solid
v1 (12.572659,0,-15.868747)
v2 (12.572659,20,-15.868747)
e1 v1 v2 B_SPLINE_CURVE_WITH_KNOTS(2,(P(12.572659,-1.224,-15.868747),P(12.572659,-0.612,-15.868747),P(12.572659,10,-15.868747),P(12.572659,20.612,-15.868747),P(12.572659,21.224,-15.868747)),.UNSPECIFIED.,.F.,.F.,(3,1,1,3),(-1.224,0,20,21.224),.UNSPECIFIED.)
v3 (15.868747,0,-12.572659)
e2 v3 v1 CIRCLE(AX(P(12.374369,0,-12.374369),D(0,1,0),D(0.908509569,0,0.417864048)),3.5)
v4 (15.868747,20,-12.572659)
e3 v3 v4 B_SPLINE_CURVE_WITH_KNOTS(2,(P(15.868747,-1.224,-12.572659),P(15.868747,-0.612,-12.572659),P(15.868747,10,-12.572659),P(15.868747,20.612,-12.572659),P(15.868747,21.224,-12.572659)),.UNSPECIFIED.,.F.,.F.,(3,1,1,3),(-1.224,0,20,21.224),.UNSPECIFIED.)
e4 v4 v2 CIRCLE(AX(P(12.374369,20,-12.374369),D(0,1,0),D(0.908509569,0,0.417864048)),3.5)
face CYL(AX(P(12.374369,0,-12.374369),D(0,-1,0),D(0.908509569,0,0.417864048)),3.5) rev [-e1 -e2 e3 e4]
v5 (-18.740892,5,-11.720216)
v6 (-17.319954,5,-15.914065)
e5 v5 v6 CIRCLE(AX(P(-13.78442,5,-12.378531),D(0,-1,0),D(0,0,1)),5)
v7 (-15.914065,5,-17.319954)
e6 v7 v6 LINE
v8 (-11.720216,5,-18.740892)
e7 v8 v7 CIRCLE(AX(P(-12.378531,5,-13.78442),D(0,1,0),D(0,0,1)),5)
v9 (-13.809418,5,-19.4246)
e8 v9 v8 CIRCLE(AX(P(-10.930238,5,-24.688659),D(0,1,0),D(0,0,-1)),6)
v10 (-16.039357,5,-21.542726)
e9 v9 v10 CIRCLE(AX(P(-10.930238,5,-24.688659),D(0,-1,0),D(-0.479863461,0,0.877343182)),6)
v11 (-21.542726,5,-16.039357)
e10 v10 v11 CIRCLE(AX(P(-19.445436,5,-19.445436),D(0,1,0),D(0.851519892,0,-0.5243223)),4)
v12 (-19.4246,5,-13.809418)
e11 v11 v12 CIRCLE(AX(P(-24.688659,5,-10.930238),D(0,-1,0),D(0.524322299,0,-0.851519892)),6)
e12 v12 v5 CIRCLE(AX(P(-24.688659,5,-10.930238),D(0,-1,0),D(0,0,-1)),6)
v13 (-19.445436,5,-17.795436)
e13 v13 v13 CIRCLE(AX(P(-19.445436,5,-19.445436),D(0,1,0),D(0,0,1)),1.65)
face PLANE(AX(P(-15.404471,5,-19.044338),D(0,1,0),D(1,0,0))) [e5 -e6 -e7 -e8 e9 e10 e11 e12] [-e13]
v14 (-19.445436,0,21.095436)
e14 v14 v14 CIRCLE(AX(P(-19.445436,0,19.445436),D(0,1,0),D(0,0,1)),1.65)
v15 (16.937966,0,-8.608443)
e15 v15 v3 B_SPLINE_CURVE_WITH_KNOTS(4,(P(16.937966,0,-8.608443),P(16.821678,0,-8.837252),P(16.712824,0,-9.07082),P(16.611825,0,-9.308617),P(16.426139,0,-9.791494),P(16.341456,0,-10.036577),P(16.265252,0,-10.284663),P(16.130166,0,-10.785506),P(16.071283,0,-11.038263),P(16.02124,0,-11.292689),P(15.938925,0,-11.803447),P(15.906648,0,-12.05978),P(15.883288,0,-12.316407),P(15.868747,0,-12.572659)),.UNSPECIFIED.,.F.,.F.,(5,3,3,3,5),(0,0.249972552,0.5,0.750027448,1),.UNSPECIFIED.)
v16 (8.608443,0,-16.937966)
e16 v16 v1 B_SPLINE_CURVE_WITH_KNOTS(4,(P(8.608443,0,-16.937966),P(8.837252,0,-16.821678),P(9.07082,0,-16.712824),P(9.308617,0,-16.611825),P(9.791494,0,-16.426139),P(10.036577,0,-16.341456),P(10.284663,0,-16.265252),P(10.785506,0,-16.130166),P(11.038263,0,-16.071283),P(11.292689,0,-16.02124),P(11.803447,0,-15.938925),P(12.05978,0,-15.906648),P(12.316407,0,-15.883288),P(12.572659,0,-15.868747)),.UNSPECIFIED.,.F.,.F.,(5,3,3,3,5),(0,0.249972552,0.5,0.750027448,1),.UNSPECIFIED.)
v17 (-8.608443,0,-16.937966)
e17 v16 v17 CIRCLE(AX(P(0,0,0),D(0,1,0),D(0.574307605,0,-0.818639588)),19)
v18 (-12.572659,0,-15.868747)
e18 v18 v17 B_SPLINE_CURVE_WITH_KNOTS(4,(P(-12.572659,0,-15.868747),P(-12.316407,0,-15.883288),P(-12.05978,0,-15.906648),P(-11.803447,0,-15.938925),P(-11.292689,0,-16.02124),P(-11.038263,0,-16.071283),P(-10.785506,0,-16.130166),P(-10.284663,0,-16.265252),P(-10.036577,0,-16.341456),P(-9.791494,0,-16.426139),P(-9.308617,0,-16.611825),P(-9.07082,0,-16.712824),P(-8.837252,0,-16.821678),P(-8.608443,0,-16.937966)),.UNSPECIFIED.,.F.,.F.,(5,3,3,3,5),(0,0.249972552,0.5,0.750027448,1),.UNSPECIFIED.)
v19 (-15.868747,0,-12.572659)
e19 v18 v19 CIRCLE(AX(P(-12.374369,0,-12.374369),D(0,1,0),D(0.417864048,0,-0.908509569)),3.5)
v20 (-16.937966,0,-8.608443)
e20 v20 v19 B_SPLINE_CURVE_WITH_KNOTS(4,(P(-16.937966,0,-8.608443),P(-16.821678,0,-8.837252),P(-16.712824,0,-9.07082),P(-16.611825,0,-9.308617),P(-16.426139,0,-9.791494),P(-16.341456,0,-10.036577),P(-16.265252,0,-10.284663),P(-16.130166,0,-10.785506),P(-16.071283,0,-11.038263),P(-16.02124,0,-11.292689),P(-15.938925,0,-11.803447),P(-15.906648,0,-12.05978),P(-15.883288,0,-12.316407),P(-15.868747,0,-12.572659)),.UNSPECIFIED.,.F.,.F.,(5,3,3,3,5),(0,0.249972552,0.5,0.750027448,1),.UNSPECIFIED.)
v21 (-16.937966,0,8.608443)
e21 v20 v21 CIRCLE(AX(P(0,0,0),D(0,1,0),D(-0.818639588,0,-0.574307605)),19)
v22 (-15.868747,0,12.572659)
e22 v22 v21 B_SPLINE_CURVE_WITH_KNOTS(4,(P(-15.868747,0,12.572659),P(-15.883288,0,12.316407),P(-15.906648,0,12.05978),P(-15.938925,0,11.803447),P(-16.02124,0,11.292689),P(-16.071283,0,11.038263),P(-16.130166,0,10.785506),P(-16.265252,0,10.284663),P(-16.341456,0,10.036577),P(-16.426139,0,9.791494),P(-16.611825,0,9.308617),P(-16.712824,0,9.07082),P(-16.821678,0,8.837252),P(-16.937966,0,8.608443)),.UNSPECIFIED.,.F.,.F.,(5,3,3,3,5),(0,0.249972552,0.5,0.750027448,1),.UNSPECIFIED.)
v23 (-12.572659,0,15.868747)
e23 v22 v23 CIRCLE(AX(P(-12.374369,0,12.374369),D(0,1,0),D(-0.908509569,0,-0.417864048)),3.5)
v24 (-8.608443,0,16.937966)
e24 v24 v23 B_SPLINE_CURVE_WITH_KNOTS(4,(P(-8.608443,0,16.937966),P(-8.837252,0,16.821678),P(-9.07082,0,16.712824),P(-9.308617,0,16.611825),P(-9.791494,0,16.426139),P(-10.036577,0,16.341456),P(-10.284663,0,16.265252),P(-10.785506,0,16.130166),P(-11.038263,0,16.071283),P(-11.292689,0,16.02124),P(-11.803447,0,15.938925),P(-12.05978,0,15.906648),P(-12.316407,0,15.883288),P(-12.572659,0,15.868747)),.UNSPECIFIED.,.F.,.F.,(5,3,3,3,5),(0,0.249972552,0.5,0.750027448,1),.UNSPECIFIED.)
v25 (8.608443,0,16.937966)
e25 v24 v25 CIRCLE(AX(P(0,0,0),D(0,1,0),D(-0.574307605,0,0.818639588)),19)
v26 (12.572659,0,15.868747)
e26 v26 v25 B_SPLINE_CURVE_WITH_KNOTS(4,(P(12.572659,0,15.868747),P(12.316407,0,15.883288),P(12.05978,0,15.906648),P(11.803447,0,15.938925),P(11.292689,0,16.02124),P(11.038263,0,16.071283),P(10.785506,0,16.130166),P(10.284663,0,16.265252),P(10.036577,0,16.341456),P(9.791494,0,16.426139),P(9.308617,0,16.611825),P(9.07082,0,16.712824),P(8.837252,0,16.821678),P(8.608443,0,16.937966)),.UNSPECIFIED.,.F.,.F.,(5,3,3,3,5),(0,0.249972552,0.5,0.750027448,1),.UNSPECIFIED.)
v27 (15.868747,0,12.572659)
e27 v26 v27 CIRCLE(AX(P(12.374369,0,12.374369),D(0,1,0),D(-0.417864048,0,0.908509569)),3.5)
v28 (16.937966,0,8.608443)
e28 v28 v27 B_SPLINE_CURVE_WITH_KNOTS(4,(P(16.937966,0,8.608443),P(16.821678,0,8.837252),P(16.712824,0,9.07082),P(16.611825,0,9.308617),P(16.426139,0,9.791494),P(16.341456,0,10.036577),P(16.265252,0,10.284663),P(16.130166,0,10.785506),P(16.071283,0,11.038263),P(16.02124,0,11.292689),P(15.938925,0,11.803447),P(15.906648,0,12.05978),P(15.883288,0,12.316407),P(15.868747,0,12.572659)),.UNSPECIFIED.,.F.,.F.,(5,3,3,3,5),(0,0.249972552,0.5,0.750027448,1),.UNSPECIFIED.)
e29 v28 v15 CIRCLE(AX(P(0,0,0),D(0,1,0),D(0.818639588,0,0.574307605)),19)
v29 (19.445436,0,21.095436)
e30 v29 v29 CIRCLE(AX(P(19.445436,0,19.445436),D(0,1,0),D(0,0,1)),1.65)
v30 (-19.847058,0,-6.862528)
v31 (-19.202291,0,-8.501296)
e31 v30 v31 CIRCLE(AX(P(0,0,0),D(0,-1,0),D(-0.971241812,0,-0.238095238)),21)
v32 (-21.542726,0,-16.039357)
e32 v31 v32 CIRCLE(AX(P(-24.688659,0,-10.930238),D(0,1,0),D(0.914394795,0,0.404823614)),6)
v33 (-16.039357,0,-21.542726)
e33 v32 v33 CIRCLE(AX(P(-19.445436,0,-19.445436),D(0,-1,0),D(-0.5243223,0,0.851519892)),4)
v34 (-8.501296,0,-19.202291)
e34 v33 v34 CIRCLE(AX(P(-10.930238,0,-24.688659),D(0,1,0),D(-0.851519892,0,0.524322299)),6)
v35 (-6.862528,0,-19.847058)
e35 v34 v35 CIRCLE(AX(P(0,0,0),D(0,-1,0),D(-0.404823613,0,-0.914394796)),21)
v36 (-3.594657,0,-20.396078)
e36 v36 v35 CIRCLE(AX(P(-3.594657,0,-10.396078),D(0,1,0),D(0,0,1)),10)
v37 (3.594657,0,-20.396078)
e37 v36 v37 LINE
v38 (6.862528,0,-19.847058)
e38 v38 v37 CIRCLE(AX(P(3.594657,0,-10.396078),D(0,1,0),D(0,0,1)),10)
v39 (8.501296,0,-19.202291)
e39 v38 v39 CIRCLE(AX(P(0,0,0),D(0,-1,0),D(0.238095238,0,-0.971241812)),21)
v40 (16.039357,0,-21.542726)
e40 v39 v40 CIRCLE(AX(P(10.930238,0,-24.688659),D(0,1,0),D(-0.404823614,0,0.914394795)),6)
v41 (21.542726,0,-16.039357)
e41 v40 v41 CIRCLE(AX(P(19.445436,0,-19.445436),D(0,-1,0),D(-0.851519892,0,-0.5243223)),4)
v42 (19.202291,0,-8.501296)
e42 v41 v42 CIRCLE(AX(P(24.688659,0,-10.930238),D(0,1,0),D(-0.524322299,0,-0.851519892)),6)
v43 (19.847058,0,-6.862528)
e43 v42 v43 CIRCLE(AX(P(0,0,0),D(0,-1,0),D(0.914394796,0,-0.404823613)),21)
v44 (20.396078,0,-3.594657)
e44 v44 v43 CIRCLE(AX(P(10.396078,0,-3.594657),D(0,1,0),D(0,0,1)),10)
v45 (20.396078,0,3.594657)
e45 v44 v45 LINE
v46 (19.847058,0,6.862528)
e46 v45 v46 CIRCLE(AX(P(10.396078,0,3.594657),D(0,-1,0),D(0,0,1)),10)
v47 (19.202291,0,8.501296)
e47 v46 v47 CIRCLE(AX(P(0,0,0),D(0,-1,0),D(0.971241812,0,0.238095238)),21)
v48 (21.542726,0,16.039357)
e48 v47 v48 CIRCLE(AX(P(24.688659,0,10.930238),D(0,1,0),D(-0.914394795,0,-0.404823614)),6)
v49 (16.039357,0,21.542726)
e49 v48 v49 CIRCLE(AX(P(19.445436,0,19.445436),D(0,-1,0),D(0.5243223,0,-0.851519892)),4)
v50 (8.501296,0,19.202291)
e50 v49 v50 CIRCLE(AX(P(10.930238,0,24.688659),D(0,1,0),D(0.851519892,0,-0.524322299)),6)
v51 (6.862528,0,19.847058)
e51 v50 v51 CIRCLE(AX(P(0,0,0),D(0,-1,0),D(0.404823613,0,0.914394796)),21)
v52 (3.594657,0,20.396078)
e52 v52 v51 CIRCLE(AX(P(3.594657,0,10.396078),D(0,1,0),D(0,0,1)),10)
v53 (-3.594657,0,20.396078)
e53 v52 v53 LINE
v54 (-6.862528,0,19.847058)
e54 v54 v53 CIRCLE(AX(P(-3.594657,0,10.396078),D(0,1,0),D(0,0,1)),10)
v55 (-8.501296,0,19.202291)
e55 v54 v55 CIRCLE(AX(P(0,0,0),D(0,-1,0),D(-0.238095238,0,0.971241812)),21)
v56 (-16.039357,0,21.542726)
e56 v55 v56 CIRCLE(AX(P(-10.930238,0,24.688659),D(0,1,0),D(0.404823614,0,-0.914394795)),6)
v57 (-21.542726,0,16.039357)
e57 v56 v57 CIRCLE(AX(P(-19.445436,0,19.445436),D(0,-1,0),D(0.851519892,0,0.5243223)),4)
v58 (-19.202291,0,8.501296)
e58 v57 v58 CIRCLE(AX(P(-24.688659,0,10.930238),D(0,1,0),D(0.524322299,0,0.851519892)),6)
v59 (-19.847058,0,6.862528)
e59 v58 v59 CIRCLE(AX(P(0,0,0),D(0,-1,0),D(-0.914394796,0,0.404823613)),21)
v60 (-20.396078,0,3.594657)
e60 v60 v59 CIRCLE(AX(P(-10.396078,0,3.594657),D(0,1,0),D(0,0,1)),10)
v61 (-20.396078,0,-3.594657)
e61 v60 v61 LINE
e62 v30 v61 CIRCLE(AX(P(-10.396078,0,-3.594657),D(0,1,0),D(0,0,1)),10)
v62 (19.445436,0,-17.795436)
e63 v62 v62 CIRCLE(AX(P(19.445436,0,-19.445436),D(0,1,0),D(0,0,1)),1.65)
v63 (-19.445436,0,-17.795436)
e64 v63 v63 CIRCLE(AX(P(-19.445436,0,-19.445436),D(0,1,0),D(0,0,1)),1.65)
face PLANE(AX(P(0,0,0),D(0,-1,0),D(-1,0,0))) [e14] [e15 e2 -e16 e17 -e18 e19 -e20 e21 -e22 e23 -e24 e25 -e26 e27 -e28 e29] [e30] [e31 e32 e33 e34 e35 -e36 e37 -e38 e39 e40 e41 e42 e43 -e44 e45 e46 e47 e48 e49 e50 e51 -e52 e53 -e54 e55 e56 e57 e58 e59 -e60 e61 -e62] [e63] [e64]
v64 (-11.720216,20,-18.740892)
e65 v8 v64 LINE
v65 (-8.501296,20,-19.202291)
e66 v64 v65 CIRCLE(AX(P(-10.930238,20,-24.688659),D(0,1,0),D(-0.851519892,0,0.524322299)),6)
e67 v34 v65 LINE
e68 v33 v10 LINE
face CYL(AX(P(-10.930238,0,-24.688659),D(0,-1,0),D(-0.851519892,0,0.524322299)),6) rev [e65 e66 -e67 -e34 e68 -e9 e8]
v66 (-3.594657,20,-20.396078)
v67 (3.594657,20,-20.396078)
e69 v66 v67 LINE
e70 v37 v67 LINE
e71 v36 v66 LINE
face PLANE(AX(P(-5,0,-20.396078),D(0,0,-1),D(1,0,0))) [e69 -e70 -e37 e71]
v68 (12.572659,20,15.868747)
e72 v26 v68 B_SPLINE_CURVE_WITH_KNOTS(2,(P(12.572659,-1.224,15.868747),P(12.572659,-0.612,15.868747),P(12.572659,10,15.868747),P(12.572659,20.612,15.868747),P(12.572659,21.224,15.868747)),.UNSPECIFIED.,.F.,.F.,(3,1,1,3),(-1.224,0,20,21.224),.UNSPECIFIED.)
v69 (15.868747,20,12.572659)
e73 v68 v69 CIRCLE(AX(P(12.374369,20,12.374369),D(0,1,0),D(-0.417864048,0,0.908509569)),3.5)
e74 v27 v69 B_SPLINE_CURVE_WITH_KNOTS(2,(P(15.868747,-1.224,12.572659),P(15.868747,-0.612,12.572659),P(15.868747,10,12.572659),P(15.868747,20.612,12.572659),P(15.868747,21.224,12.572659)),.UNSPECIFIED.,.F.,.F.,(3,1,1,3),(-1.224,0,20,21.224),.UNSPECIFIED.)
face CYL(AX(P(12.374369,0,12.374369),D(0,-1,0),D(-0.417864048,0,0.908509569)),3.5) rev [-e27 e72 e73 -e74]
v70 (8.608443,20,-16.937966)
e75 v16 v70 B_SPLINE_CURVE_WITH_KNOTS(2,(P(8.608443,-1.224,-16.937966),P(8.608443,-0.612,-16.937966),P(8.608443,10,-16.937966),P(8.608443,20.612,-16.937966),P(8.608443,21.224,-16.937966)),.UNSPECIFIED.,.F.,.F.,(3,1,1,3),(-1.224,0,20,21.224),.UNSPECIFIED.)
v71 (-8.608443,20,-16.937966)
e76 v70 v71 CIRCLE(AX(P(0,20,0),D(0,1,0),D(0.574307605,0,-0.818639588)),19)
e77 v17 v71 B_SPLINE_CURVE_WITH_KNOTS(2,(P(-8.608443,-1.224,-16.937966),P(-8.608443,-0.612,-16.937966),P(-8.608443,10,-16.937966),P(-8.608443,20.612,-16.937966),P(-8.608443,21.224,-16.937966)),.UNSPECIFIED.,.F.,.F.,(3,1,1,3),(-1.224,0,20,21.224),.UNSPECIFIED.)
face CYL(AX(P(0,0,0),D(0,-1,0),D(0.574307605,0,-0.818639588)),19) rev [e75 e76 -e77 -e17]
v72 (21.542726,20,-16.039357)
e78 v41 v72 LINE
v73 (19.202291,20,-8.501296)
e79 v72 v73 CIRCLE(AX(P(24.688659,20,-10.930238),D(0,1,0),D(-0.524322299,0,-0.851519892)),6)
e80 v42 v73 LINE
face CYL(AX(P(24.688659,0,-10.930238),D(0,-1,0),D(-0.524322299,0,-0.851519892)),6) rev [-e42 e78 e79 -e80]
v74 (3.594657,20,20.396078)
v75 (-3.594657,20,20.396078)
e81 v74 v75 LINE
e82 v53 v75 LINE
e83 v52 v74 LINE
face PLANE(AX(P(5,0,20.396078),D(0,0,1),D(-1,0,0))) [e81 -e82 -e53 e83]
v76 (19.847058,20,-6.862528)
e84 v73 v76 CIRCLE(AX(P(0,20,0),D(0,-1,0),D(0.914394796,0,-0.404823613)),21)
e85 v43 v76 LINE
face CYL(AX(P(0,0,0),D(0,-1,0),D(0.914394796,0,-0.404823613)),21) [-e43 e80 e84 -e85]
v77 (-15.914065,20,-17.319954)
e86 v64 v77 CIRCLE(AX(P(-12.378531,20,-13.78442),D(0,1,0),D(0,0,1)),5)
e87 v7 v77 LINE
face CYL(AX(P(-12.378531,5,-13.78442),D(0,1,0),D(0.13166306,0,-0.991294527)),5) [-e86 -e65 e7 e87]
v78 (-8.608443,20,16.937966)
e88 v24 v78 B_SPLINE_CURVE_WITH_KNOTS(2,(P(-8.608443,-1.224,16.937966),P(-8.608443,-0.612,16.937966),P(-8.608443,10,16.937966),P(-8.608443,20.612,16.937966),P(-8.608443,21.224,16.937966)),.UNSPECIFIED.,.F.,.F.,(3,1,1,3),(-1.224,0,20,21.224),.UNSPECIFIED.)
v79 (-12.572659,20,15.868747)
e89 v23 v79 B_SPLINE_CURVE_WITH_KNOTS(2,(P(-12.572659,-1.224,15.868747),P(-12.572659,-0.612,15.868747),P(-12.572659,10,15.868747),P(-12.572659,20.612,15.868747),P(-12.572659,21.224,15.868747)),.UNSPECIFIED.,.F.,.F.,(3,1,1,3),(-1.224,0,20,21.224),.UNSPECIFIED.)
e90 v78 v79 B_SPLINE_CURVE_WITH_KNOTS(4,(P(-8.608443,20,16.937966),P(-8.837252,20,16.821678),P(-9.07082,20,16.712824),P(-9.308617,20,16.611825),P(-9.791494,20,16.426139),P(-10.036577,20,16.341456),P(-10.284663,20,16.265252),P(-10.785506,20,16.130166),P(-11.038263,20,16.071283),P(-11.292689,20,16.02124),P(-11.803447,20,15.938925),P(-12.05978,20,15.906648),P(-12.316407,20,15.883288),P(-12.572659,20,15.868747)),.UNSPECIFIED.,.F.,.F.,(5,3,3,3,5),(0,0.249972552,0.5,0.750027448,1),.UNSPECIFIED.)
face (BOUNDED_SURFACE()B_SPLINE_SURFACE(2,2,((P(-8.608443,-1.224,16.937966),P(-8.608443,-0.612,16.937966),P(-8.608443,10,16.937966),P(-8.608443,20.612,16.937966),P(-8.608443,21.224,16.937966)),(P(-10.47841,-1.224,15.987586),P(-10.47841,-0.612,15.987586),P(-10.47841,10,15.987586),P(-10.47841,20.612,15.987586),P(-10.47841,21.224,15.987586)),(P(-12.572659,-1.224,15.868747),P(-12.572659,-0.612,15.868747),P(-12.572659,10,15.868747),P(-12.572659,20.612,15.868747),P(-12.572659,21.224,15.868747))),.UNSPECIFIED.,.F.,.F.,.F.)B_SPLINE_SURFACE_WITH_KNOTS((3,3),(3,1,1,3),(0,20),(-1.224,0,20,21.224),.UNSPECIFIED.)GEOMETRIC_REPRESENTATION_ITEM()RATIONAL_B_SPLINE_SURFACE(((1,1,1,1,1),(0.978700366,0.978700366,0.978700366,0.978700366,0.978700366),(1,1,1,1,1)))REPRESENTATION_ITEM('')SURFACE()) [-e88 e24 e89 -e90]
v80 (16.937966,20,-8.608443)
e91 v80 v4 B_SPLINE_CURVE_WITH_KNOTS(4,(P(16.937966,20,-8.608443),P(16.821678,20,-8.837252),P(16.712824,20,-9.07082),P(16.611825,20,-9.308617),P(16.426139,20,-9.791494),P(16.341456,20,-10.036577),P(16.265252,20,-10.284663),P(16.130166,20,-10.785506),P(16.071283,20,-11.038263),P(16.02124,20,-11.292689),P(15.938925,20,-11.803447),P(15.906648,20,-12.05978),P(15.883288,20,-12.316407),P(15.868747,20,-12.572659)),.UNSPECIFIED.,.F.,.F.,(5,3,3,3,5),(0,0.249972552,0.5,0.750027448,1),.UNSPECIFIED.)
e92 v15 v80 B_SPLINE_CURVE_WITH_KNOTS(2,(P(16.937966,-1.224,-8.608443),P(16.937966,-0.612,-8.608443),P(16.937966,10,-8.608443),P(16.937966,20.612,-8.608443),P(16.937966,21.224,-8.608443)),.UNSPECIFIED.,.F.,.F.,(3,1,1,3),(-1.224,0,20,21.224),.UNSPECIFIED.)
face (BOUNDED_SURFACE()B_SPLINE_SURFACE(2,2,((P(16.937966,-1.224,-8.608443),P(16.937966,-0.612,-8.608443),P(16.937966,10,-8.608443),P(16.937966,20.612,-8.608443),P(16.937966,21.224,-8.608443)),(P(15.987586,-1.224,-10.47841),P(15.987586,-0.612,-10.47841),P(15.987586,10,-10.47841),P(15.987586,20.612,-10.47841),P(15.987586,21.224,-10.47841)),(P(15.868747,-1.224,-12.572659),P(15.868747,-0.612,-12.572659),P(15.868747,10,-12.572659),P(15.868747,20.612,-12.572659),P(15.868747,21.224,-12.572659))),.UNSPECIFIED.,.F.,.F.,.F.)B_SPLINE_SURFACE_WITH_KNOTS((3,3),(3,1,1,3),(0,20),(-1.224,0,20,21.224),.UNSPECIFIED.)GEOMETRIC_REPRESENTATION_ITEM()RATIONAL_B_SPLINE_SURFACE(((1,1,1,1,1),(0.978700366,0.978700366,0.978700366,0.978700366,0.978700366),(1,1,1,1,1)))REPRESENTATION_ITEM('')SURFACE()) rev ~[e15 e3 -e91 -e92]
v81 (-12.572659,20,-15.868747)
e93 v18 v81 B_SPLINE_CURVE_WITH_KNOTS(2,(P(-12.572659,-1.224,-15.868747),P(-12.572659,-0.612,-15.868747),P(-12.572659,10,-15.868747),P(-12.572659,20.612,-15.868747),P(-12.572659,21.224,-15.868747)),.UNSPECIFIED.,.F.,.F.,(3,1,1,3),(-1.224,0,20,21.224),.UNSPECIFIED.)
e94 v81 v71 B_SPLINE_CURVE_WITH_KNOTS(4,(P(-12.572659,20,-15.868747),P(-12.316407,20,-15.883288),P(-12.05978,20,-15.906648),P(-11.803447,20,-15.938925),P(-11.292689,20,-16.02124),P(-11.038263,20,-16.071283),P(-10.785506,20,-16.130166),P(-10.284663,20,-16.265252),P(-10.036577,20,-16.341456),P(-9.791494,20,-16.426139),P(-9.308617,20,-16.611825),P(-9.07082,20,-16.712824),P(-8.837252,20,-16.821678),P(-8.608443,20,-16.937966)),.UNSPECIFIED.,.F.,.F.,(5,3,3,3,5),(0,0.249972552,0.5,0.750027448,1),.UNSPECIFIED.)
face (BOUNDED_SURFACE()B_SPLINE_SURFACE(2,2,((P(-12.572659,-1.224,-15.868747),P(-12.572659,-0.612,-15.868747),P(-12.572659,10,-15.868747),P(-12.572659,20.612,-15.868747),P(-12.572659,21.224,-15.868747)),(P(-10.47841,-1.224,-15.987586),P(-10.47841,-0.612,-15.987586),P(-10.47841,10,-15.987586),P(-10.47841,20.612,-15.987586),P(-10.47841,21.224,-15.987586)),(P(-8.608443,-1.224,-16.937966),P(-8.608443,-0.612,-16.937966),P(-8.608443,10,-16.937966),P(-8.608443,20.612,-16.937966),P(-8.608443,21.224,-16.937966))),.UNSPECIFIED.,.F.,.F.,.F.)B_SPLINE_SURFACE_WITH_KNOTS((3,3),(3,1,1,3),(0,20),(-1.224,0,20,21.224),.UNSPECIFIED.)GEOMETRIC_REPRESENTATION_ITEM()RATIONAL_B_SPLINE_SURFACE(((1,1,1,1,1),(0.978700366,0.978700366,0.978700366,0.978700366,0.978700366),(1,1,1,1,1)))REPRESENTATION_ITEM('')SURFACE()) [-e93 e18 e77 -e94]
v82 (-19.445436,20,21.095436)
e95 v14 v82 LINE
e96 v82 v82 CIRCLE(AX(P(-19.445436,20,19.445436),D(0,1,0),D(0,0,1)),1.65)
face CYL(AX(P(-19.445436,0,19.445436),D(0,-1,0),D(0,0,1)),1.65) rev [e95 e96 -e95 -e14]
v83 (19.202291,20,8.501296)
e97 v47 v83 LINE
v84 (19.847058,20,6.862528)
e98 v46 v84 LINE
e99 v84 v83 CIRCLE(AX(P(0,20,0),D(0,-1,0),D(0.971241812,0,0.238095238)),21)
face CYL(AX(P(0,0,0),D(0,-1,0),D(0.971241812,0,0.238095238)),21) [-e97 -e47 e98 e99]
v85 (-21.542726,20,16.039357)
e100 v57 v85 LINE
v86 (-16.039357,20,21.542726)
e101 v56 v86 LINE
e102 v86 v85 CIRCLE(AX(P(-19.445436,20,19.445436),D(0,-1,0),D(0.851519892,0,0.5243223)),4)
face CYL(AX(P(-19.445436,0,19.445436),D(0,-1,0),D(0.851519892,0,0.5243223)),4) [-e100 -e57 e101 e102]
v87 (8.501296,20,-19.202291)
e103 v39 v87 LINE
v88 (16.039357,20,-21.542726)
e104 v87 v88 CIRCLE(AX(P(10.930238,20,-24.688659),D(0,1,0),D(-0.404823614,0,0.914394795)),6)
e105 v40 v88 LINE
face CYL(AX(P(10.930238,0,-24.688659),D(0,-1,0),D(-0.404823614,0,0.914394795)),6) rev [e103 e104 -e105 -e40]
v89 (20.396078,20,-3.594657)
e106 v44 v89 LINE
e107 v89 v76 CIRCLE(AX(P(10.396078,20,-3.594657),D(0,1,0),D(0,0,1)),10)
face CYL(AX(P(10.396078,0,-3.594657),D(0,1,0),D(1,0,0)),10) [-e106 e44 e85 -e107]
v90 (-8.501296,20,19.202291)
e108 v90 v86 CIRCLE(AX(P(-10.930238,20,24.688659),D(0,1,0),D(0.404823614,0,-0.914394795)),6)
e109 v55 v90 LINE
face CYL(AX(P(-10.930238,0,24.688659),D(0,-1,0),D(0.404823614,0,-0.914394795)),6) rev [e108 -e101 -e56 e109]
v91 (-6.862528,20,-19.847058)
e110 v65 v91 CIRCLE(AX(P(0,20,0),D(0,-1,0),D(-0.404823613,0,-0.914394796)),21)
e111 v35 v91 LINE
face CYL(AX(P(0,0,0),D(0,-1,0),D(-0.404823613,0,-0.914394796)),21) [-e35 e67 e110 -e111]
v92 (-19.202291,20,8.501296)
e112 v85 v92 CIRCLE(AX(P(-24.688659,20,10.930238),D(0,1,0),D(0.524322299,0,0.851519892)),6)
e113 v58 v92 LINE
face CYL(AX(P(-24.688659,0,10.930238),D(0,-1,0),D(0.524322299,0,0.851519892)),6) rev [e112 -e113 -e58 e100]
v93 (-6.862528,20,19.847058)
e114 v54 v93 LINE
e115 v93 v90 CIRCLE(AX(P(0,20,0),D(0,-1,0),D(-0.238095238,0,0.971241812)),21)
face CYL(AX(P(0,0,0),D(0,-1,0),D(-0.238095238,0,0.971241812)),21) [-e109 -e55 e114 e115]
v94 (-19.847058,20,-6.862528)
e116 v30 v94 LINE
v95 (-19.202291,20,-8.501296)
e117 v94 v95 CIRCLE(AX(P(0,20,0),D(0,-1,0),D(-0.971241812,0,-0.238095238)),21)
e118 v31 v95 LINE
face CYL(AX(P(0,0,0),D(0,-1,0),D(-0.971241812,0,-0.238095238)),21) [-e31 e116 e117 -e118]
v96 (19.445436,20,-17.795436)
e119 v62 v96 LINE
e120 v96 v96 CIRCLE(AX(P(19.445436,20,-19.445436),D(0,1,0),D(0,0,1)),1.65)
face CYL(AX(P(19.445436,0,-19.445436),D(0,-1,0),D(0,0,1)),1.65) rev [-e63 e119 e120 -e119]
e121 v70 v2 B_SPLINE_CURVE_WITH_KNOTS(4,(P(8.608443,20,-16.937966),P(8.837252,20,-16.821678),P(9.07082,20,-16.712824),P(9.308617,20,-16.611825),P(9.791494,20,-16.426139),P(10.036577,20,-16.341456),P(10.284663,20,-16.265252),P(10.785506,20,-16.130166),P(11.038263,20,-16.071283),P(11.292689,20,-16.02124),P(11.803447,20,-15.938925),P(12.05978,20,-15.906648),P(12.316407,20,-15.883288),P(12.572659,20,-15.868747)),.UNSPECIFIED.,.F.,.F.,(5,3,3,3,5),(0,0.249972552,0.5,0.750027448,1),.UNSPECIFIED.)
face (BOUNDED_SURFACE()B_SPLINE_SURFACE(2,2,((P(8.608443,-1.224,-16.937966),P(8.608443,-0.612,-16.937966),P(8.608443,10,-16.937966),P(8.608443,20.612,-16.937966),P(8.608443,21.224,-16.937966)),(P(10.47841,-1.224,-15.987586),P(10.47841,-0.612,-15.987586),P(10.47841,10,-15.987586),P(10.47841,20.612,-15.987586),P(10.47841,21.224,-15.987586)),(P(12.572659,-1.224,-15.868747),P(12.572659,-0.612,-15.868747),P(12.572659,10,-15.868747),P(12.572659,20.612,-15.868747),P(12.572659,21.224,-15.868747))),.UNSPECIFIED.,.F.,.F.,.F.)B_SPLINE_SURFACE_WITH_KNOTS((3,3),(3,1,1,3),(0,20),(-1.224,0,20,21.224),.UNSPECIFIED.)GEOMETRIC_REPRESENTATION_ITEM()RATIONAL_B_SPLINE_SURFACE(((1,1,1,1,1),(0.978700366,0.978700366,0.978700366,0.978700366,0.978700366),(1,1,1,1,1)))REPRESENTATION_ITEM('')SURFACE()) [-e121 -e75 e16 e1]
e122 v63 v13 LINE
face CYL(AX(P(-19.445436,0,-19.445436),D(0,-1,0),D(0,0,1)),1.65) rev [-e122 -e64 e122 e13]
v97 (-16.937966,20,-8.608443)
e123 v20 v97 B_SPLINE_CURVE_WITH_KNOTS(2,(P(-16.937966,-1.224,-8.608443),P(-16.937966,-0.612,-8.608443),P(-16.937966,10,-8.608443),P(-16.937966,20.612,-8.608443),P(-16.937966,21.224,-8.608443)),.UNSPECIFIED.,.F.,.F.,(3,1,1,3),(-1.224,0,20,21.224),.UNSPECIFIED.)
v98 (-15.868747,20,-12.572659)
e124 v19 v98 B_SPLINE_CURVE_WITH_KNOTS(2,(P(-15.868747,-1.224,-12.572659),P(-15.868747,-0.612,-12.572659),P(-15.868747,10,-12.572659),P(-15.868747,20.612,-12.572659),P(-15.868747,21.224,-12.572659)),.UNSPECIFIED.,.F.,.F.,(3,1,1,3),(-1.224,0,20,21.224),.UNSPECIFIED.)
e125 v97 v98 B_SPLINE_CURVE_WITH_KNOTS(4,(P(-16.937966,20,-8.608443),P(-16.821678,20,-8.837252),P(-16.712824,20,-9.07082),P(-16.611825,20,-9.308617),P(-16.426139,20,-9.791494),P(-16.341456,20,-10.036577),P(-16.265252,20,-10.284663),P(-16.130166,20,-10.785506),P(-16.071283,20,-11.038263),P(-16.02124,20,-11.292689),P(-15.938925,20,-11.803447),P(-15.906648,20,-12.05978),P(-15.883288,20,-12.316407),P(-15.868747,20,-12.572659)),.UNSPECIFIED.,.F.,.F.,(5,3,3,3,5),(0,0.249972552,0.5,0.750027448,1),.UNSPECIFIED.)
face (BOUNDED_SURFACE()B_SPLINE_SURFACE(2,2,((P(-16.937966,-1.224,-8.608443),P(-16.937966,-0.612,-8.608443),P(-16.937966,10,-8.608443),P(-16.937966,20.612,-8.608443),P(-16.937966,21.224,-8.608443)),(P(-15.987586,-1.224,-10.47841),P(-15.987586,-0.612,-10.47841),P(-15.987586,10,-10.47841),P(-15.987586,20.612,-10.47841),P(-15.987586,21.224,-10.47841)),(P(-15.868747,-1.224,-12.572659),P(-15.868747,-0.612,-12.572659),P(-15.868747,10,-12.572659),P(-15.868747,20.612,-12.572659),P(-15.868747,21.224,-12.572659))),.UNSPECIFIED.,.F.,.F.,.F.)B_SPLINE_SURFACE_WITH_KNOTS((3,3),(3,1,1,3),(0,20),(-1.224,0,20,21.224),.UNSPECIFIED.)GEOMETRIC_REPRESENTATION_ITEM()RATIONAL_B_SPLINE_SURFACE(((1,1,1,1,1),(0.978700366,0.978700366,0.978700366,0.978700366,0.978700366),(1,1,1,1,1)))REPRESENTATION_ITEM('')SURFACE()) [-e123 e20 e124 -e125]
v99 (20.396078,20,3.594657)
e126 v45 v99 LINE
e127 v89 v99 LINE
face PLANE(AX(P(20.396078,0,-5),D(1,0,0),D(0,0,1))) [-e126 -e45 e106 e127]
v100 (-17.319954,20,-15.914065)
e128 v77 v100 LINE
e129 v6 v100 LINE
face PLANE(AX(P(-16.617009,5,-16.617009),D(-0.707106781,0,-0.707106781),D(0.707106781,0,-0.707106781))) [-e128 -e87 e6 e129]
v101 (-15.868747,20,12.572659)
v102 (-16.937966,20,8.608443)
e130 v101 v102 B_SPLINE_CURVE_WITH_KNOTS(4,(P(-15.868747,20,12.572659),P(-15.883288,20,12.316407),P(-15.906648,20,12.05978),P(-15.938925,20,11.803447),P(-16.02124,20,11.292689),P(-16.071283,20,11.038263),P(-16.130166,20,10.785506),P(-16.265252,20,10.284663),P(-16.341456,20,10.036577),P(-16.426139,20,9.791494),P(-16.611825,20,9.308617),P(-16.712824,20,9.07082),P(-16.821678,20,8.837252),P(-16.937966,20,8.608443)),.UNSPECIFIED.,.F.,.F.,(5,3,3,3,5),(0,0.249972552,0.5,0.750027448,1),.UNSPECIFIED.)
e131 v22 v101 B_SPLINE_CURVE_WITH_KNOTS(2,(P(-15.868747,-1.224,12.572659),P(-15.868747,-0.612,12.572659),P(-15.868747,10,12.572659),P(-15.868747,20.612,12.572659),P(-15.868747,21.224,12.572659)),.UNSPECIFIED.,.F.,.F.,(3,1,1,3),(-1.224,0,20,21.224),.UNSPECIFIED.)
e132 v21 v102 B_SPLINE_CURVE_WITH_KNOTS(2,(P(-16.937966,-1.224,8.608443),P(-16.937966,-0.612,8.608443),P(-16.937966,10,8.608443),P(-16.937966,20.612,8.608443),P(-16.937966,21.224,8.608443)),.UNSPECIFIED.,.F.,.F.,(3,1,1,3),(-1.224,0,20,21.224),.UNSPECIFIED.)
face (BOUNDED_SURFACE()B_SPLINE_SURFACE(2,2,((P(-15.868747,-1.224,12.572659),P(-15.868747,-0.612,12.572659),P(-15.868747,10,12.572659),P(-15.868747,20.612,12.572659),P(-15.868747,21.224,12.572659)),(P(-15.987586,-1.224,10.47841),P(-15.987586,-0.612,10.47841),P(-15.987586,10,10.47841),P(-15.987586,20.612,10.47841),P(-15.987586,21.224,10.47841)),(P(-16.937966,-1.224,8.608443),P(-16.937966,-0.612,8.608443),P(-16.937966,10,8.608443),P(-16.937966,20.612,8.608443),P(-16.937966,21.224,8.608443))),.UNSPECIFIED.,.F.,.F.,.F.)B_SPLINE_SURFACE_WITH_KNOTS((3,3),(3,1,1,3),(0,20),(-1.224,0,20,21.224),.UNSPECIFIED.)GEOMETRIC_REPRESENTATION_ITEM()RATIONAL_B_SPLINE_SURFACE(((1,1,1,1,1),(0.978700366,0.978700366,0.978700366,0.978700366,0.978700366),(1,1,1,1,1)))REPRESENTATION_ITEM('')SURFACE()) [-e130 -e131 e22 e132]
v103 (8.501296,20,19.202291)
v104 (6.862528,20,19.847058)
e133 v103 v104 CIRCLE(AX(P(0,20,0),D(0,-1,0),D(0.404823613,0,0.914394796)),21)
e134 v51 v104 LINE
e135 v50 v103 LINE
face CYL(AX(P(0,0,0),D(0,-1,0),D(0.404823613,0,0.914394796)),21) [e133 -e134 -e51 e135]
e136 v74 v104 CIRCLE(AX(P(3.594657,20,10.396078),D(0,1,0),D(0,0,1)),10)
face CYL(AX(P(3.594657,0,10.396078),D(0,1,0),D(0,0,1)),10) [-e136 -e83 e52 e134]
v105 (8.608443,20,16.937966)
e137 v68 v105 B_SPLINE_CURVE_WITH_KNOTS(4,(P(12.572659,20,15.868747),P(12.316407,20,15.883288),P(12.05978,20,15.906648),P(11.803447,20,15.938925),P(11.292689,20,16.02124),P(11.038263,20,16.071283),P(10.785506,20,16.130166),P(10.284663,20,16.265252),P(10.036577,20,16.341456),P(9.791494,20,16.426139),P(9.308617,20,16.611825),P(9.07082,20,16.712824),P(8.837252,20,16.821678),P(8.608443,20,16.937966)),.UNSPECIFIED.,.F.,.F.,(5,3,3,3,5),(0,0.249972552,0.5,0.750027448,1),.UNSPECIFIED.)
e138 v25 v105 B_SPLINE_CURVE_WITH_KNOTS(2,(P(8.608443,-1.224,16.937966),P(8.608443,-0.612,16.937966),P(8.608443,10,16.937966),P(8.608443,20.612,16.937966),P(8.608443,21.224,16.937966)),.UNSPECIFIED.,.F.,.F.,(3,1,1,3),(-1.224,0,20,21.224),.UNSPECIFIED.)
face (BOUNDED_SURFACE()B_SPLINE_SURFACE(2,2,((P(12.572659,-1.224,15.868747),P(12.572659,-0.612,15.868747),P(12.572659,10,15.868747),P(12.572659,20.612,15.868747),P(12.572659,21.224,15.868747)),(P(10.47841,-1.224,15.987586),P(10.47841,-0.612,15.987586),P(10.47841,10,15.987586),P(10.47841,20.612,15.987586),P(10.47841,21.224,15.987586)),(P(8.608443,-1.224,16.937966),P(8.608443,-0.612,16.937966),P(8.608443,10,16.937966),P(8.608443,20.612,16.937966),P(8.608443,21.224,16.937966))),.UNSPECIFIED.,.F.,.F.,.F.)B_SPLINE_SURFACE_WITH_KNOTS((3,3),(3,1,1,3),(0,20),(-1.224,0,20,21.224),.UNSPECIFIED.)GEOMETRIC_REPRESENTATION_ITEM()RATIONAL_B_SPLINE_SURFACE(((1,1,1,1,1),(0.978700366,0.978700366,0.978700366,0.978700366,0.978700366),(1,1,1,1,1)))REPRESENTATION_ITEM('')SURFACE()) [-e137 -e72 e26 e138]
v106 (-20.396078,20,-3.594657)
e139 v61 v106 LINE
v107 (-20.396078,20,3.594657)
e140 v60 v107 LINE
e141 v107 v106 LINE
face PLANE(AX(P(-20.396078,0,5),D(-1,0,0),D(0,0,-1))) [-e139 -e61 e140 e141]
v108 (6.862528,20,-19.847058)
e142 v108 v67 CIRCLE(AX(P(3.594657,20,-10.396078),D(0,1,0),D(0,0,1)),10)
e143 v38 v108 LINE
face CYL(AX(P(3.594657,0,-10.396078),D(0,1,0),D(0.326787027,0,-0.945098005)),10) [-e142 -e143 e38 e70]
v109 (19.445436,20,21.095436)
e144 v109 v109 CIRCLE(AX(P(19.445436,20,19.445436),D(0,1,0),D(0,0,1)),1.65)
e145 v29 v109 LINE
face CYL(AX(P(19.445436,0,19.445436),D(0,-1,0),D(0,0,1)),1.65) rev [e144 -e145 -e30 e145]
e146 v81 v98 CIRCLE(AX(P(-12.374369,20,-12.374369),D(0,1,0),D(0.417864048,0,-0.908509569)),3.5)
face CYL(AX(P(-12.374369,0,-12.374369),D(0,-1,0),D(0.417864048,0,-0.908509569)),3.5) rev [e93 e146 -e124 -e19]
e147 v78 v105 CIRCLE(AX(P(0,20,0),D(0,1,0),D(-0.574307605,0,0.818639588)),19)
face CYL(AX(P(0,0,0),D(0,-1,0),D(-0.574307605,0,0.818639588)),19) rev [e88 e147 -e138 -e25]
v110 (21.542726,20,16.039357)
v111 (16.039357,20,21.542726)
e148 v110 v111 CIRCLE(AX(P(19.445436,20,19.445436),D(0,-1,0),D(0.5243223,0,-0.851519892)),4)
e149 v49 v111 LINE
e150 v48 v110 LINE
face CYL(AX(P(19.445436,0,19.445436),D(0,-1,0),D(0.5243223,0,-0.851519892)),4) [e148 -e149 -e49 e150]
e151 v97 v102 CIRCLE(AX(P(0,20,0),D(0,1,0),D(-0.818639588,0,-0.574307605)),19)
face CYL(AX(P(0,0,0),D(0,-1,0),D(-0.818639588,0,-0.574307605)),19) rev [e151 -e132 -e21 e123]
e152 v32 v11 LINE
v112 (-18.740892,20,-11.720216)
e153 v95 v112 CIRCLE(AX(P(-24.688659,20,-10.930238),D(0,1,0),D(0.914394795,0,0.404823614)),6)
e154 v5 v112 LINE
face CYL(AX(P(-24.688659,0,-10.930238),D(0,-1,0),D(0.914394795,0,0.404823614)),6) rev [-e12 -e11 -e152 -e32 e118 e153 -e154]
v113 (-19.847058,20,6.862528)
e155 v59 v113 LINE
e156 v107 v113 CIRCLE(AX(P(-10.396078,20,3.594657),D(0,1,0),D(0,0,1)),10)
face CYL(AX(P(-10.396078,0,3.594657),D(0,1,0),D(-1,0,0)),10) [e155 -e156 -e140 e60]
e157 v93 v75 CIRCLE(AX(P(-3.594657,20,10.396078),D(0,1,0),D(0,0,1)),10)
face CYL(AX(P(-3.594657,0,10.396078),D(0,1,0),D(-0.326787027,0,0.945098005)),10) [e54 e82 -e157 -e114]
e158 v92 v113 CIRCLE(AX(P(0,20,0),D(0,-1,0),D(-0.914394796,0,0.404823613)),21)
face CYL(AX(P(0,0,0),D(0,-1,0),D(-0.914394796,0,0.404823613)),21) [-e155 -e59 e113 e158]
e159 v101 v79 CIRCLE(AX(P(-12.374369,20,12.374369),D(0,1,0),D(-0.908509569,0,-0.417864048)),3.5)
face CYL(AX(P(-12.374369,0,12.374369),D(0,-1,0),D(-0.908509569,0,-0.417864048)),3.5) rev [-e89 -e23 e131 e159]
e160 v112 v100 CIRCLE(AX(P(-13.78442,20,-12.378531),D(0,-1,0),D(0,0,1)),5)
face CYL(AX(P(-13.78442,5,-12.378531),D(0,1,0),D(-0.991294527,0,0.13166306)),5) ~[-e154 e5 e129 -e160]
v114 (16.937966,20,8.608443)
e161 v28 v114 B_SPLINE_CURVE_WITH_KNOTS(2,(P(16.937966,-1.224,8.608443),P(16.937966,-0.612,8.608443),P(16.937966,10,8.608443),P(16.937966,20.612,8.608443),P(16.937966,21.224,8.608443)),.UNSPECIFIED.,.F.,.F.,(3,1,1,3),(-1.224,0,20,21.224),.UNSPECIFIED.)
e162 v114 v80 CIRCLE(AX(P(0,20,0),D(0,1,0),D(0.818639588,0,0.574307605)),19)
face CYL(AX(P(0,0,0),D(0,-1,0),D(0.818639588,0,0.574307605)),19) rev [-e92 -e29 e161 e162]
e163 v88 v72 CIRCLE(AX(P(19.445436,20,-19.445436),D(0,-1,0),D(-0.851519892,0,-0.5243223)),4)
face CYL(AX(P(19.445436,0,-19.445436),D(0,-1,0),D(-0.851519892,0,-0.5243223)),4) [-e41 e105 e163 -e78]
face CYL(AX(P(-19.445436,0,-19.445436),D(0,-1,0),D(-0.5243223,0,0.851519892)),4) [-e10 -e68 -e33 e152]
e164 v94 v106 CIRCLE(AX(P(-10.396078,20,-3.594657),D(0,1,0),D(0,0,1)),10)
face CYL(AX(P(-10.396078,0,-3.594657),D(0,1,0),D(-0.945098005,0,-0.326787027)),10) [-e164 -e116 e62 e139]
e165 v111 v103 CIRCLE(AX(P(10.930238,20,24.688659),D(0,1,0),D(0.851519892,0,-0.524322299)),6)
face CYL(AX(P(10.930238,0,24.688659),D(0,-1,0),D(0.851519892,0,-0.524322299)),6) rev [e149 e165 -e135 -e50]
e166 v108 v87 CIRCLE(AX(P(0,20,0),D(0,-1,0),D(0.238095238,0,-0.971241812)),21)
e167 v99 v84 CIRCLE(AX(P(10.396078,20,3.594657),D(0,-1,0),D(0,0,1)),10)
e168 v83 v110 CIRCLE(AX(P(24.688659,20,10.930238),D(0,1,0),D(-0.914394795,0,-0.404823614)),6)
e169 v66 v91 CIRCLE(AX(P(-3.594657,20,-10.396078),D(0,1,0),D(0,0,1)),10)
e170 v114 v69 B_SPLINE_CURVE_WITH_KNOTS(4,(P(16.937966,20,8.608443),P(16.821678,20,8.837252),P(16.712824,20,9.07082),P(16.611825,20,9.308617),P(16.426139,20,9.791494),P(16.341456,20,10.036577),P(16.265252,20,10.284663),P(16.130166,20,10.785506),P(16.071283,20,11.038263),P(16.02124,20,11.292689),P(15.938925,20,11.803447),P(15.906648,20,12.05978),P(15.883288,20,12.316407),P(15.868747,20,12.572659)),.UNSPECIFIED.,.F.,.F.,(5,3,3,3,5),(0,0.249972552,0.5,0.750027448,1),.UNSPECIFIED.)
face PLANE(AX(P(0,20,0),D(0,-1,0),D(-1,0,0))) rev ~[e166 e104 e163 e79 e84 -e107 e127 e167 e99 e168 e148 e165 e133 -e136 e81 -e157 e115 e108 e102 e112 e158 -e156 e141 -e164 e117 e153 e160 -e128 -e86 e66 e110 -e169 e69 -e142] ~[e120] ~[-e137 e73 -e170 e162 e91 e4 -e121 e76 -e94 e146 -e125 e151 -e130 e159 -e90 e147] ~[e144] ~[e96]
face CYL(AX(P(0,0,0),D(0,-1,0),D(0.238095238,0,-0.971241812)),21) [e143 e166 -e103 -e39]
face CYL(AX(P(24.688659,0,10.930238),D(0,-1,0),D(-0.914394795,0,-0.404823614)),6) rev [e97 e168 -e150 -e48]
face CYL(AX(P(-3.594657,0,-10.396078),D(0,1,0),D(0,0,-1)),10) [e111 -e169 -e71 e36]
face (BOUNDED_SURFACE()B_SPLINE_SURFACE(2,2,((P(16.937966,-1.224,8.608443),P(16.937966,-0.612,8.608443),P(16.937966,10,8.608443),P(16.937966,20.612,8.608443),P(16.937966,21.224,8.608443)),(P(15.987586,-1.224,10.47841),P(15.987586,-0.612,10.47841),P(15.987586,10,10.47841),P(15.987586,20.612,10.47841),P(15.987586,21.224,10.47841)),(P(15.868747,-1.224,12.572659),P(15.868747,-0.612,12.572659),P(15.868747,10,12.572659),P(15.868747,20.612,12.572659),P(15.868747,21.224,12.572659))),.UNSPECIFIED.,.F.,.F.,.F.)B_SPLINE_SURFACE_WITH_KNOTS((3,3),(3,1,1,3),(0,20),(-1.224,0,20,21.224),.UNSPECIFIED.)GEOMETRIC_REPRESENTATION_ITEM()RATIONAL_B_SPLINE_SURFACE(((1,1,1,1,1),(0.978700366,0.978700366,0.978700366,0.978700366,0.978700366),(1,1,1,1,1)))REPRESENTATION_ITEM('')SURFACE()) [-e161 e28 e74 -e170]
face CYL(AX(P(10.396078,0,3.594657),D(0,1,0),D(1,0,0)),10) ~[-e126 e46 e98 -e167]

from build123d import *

# Parameters (mm, degrees)
SKETCH_1_R          = 1.65
EXTRUDE_1_DEPTH     = 20
CUT_EXTRUDE_START   = -15
SKETCH_4_R          = 1.65
CUT_EXTRUDE_1_DEPTH = 15
FILLET_1_R          = 10
FILLET_2_R          = 5


with BuildPart() as part:
    # ｽｹｯﾁ1 → ﾎﾞｽ - 押し出し1 (new body)
    with BuildSketch(Plane(origin=(0, 0, 0), x_dir=(1, 0, 0), z_dir=(0, 1, 0))):
        with BuildLine():
            Line((20.396078054, 5), (20.396078054, -5))
            ThreePointArc((20.396078054, -5), (19.876430019, -6.776985295), (19.202290705, -8.501295883))
            ThreePointArc((19.202290705, -8.501295883), (18.958497792, -12.709351685), (21.542725681, -16.039356915))
            ThreePointArc((21.542725681, -16.039356915), (22.273863607, -22.273863607), (16.039356915, -21.542725681))
            ThreePointArc((16.039356915, -21.542725681), (12.709351685, -18.958497792), (8.501295883, -19.202290705))
            ThreePointArc((8.501295883, -19.202290705), (6.776985295, -19.876430019), (5, -20.396078054))
            Line((5, -20.396078054), (-5, -20.396078054))
            ThreePointArc((-5, -20.396078054), (-6.776985295, -19.876430019), (-8.501295883, -19.202290705))
            ThreePointArc((-8.501295883, -19.202290705), (-12.709351685, -18.958497792), (-16.039356915, -21.542725681))
            ThreePointArc((-16.039356915, -21.542725681), (-22.273863607, -22.273863607), (-21.542725681, -16.039356915))
            ThreePointArc((-21.542725681, -16.039356915), (-18.958497792, -12.709351685), (-19.202290705, -8.501295883))
            ThreePointArc((-19.202290705, -8.501295883), (-19.876430019, -6.776985295), (-20.396078054, -5))
            Line((-20.396078054, -5), (-20.396078054, 5))
            ThreePointArc((-20.396078054, 5), (-19.876430019, 6.776985295), (-19.202290705, 8.501295883))
            ThreePointArc((-19.202290705, 8.501295883), (-18.958497792, 12.709351685), (-21.542725681, 16.039356915))
            ThreePointArc((-21.542725681, 16.039356915), (-22.273863607, 22.273863607), (-16.039356915, 21.542725681))
            ThreePointArc((-16.039356915, 21.542725681), (-12.709351685, 18.958497792), (-8.501295883, 19.202290705))
            ThreePointArc((-8.501295883, 19.202290705), (-6.776985295, 19.876430019), (-5, 20.396078054))
            Line((-5, 20.396078054), (5, 20.396078054))
            ThreePointArc((5, 20.396078054), (6.776985295, 19.876430019), (8.501295883, 19.202290705))
            ThreePointArc((8.501295883, 19.202290705), (12.709351685, 18.958497792), (16.039356915, 21.542725681))
            ThreePointArc((16.039356915, 21.542725681), (22.273863607, 22.273863607), (21.542725681, 16.039356915))
            ThreePointArc((21.542725681, 16.039356915), (18.958497792, 12.709351685), (19.202290705, 8.501295883))
            ThreePointArc((19.202290705, 8.501295883), (19.876430019, 6.776985295), (20.396078054, 5))
        make_face()
        with Locations(Location((19.445436483, 19.445436483, 0), (0, 0, 270))):
            Circle(SKETCH_1_R, mode=Mode.SUBTRACT)
        with Locations(Location((19.445436483, -19.445436483, 0), (0, 0, 270))):
            Circle(SKETCH_1_R, mode=Mode.SUBTRACT)
        with Locations(Location((-19.445436483, -19.445436483, 0), (0, 0, 270))):
            Circle(SKETCH_1_R, mode=Mode.SUBTRACT)
        with Locations(Location((-19.445436483, 19.445436483, 0), (0, 0, 270))):
            Circle(SKETCH_1_R, mode=Mode.SUBTRACT)
        with BuildLine():
            ThreePointArc((10.911844504, 15.554152164), (0, 19), (-10.911844504, 15.554152164))
            ThreePointArc((-10.911844504, 15.554152164), (-14.849242405, 14.849242405), (-15.554152164, 10.911844504))
            ThreePointArc((-15.554152164, 10.911844504), (-19, 0), (-15.554152164, -10.911844504))
            ThreePointArc((-15.554152164, -10.911844504), (-14.849242405, -14.849242405), (-10.911844504, -15.554152164))
            ThreePointArc((-10.911844504, -15.554152164), (0, -19), (10.911844504, -15.554152164))
            ThreePointArc((10.911844504, -15.554152164), (14.849242405, -14.849242405), (15.554152164, -10.911844504))
            ThreePointArc((15.554152164, -10.911844504), (19, 0), (15.554152164, 10.911844504))
            ThreePointArc((15.554152164, 10.911844504), (14.849242405, 14.849242405), (10.911844504, 15.554152164))
        make_face(mode=Mode.SUBTRACT)
    extrude(amount=EXTRUDE_1_DEPTH)

    # ｽｹｯﾁ4 → ｶｯﾄ - 押し出し1 (cut)
    # profile 1 of 3: a face of its own
    with BuildSketch(Plane(origin=(0, 20, 0), x_dir=(1, 0, 0), z_dir=(0, 1, 0)).offset(CUT_EXTRUDE_START)):
        with BuildLine():
            ThreePointArc((-21.542725681, 16.039356915), (-20.338354704, 15.06240992), (-19.424600386, 13.80941833))
            Line((-19.424600386, 13.80941833), (-16.617009355, 16.617009361))
            ThreePointArc((-16.617009355, 16.617009361), (-18.979538151, 15.472661792), (-21.542725681, 16.039356915))
        make_face()
    # profile 2 of 3: a face of its own
    with BuildSketch(Plane(origin=(0, 20, 0), x_dir=(1, 0, 0), z_dir=(0, 1, 0)).offset(CUT_EXTRUDE_START)):
        with BuildLine():
            ThreePointArc((-21.542725681, 16.039356915), (-18.979538151, 15.472661792), (-16.617009355, 16.617009361))
            ThreePointArc((-16.617009355, 16.617009361), (-15.749918352, 17.914702755), (-15.445436483, 19.445436483))
            ThreePointArc((-15.445436483, 19.445436483), (-15.596779686, 20.535317607), (-16.039356915, 21.542725681))
            ThreePointArc((-16.039356915, 21.542725681), (-22.273863607, 22.273863607), (-21.542725681, 16.039356915))
        make_face()
        with Locations(Location((-19.445436483, 19.445436483, 0), (0, 0, 270))):
            Circle(SKETCH_4_R, mode=Mode.SUBTRACT)
    # profile 3 of 3: a face of its own
    with BuildSketch(Plane(origin=(0, 20, 0), x_dir=(1, 0, 0), z_dir=(0, 1, 0)).offset(CUT_EXTRUDE_START)):
        with BuildLine():
            ThreePointArc((-15.445436483, 19.445436483), (-15.749918352, 17.914702755), (-16.617009355, 16.617009361))
            Line((-16.617009355, 16.617009361), (-13.80941833, 19.424600386))
            ThreePointArc((-13.80941833, 19.424600386), (-15.06240992, 20.338354704), (-16.039356915, 21.542725681))
            ThreePointArc((-16.039356915, 21.542725681), (-15.596779686, 20.535317607), (-15.445436483, 19.445436483))
        make_face()
    extrude(amount=CUT_EXTRUDE_1_DEPTH, mode=Mode.SUBTRACT)

    # ﾌｨﾚｯﾄ1
    fillet_1_edges = [part.edges().sort_by_distance(p)[0] for p in [
        (20.396078054, 10, -5),
        (20.396078054, 10, 5),
        (5, 10, 20.396078054),
        (-5, 10, 20.396078054),
        (-20.396078054, 10, 5),
        (-20.396078054, 10, -5),
        (-5, 10, -20.396078054),
        (5, 10, -20.396078054),
        (15.554152164, 10, -10.911844504),
        (10.911844504, 10, -15.554152164),
        (-10.911844504, 10, -15.554152164),
        (-15.554152164, 10, -10.911844504),
        (-15.554152164, 10, 10.911844504),
        (-10.911844504, 10, 15.554152164),
        (10.911844504, 10, 15.554152164),
        (15.554152164, 10, 10.911844504),
    ]]
    fillet(fillet_1_edges, radius=FILLET_1_R)

    # ﾌｨﾚｯﾄ2
    fillet_2_edges = [part.edges().sort_by_distance(p)[0] for p in [
        (-13.80941833, 12.5, -19.424600386),
        (-19.424600386, 12.5, -13.80941833),
    ]]
    fillet(fillet_2_edges, radius=FILLET_2_R)


solid = part.part
